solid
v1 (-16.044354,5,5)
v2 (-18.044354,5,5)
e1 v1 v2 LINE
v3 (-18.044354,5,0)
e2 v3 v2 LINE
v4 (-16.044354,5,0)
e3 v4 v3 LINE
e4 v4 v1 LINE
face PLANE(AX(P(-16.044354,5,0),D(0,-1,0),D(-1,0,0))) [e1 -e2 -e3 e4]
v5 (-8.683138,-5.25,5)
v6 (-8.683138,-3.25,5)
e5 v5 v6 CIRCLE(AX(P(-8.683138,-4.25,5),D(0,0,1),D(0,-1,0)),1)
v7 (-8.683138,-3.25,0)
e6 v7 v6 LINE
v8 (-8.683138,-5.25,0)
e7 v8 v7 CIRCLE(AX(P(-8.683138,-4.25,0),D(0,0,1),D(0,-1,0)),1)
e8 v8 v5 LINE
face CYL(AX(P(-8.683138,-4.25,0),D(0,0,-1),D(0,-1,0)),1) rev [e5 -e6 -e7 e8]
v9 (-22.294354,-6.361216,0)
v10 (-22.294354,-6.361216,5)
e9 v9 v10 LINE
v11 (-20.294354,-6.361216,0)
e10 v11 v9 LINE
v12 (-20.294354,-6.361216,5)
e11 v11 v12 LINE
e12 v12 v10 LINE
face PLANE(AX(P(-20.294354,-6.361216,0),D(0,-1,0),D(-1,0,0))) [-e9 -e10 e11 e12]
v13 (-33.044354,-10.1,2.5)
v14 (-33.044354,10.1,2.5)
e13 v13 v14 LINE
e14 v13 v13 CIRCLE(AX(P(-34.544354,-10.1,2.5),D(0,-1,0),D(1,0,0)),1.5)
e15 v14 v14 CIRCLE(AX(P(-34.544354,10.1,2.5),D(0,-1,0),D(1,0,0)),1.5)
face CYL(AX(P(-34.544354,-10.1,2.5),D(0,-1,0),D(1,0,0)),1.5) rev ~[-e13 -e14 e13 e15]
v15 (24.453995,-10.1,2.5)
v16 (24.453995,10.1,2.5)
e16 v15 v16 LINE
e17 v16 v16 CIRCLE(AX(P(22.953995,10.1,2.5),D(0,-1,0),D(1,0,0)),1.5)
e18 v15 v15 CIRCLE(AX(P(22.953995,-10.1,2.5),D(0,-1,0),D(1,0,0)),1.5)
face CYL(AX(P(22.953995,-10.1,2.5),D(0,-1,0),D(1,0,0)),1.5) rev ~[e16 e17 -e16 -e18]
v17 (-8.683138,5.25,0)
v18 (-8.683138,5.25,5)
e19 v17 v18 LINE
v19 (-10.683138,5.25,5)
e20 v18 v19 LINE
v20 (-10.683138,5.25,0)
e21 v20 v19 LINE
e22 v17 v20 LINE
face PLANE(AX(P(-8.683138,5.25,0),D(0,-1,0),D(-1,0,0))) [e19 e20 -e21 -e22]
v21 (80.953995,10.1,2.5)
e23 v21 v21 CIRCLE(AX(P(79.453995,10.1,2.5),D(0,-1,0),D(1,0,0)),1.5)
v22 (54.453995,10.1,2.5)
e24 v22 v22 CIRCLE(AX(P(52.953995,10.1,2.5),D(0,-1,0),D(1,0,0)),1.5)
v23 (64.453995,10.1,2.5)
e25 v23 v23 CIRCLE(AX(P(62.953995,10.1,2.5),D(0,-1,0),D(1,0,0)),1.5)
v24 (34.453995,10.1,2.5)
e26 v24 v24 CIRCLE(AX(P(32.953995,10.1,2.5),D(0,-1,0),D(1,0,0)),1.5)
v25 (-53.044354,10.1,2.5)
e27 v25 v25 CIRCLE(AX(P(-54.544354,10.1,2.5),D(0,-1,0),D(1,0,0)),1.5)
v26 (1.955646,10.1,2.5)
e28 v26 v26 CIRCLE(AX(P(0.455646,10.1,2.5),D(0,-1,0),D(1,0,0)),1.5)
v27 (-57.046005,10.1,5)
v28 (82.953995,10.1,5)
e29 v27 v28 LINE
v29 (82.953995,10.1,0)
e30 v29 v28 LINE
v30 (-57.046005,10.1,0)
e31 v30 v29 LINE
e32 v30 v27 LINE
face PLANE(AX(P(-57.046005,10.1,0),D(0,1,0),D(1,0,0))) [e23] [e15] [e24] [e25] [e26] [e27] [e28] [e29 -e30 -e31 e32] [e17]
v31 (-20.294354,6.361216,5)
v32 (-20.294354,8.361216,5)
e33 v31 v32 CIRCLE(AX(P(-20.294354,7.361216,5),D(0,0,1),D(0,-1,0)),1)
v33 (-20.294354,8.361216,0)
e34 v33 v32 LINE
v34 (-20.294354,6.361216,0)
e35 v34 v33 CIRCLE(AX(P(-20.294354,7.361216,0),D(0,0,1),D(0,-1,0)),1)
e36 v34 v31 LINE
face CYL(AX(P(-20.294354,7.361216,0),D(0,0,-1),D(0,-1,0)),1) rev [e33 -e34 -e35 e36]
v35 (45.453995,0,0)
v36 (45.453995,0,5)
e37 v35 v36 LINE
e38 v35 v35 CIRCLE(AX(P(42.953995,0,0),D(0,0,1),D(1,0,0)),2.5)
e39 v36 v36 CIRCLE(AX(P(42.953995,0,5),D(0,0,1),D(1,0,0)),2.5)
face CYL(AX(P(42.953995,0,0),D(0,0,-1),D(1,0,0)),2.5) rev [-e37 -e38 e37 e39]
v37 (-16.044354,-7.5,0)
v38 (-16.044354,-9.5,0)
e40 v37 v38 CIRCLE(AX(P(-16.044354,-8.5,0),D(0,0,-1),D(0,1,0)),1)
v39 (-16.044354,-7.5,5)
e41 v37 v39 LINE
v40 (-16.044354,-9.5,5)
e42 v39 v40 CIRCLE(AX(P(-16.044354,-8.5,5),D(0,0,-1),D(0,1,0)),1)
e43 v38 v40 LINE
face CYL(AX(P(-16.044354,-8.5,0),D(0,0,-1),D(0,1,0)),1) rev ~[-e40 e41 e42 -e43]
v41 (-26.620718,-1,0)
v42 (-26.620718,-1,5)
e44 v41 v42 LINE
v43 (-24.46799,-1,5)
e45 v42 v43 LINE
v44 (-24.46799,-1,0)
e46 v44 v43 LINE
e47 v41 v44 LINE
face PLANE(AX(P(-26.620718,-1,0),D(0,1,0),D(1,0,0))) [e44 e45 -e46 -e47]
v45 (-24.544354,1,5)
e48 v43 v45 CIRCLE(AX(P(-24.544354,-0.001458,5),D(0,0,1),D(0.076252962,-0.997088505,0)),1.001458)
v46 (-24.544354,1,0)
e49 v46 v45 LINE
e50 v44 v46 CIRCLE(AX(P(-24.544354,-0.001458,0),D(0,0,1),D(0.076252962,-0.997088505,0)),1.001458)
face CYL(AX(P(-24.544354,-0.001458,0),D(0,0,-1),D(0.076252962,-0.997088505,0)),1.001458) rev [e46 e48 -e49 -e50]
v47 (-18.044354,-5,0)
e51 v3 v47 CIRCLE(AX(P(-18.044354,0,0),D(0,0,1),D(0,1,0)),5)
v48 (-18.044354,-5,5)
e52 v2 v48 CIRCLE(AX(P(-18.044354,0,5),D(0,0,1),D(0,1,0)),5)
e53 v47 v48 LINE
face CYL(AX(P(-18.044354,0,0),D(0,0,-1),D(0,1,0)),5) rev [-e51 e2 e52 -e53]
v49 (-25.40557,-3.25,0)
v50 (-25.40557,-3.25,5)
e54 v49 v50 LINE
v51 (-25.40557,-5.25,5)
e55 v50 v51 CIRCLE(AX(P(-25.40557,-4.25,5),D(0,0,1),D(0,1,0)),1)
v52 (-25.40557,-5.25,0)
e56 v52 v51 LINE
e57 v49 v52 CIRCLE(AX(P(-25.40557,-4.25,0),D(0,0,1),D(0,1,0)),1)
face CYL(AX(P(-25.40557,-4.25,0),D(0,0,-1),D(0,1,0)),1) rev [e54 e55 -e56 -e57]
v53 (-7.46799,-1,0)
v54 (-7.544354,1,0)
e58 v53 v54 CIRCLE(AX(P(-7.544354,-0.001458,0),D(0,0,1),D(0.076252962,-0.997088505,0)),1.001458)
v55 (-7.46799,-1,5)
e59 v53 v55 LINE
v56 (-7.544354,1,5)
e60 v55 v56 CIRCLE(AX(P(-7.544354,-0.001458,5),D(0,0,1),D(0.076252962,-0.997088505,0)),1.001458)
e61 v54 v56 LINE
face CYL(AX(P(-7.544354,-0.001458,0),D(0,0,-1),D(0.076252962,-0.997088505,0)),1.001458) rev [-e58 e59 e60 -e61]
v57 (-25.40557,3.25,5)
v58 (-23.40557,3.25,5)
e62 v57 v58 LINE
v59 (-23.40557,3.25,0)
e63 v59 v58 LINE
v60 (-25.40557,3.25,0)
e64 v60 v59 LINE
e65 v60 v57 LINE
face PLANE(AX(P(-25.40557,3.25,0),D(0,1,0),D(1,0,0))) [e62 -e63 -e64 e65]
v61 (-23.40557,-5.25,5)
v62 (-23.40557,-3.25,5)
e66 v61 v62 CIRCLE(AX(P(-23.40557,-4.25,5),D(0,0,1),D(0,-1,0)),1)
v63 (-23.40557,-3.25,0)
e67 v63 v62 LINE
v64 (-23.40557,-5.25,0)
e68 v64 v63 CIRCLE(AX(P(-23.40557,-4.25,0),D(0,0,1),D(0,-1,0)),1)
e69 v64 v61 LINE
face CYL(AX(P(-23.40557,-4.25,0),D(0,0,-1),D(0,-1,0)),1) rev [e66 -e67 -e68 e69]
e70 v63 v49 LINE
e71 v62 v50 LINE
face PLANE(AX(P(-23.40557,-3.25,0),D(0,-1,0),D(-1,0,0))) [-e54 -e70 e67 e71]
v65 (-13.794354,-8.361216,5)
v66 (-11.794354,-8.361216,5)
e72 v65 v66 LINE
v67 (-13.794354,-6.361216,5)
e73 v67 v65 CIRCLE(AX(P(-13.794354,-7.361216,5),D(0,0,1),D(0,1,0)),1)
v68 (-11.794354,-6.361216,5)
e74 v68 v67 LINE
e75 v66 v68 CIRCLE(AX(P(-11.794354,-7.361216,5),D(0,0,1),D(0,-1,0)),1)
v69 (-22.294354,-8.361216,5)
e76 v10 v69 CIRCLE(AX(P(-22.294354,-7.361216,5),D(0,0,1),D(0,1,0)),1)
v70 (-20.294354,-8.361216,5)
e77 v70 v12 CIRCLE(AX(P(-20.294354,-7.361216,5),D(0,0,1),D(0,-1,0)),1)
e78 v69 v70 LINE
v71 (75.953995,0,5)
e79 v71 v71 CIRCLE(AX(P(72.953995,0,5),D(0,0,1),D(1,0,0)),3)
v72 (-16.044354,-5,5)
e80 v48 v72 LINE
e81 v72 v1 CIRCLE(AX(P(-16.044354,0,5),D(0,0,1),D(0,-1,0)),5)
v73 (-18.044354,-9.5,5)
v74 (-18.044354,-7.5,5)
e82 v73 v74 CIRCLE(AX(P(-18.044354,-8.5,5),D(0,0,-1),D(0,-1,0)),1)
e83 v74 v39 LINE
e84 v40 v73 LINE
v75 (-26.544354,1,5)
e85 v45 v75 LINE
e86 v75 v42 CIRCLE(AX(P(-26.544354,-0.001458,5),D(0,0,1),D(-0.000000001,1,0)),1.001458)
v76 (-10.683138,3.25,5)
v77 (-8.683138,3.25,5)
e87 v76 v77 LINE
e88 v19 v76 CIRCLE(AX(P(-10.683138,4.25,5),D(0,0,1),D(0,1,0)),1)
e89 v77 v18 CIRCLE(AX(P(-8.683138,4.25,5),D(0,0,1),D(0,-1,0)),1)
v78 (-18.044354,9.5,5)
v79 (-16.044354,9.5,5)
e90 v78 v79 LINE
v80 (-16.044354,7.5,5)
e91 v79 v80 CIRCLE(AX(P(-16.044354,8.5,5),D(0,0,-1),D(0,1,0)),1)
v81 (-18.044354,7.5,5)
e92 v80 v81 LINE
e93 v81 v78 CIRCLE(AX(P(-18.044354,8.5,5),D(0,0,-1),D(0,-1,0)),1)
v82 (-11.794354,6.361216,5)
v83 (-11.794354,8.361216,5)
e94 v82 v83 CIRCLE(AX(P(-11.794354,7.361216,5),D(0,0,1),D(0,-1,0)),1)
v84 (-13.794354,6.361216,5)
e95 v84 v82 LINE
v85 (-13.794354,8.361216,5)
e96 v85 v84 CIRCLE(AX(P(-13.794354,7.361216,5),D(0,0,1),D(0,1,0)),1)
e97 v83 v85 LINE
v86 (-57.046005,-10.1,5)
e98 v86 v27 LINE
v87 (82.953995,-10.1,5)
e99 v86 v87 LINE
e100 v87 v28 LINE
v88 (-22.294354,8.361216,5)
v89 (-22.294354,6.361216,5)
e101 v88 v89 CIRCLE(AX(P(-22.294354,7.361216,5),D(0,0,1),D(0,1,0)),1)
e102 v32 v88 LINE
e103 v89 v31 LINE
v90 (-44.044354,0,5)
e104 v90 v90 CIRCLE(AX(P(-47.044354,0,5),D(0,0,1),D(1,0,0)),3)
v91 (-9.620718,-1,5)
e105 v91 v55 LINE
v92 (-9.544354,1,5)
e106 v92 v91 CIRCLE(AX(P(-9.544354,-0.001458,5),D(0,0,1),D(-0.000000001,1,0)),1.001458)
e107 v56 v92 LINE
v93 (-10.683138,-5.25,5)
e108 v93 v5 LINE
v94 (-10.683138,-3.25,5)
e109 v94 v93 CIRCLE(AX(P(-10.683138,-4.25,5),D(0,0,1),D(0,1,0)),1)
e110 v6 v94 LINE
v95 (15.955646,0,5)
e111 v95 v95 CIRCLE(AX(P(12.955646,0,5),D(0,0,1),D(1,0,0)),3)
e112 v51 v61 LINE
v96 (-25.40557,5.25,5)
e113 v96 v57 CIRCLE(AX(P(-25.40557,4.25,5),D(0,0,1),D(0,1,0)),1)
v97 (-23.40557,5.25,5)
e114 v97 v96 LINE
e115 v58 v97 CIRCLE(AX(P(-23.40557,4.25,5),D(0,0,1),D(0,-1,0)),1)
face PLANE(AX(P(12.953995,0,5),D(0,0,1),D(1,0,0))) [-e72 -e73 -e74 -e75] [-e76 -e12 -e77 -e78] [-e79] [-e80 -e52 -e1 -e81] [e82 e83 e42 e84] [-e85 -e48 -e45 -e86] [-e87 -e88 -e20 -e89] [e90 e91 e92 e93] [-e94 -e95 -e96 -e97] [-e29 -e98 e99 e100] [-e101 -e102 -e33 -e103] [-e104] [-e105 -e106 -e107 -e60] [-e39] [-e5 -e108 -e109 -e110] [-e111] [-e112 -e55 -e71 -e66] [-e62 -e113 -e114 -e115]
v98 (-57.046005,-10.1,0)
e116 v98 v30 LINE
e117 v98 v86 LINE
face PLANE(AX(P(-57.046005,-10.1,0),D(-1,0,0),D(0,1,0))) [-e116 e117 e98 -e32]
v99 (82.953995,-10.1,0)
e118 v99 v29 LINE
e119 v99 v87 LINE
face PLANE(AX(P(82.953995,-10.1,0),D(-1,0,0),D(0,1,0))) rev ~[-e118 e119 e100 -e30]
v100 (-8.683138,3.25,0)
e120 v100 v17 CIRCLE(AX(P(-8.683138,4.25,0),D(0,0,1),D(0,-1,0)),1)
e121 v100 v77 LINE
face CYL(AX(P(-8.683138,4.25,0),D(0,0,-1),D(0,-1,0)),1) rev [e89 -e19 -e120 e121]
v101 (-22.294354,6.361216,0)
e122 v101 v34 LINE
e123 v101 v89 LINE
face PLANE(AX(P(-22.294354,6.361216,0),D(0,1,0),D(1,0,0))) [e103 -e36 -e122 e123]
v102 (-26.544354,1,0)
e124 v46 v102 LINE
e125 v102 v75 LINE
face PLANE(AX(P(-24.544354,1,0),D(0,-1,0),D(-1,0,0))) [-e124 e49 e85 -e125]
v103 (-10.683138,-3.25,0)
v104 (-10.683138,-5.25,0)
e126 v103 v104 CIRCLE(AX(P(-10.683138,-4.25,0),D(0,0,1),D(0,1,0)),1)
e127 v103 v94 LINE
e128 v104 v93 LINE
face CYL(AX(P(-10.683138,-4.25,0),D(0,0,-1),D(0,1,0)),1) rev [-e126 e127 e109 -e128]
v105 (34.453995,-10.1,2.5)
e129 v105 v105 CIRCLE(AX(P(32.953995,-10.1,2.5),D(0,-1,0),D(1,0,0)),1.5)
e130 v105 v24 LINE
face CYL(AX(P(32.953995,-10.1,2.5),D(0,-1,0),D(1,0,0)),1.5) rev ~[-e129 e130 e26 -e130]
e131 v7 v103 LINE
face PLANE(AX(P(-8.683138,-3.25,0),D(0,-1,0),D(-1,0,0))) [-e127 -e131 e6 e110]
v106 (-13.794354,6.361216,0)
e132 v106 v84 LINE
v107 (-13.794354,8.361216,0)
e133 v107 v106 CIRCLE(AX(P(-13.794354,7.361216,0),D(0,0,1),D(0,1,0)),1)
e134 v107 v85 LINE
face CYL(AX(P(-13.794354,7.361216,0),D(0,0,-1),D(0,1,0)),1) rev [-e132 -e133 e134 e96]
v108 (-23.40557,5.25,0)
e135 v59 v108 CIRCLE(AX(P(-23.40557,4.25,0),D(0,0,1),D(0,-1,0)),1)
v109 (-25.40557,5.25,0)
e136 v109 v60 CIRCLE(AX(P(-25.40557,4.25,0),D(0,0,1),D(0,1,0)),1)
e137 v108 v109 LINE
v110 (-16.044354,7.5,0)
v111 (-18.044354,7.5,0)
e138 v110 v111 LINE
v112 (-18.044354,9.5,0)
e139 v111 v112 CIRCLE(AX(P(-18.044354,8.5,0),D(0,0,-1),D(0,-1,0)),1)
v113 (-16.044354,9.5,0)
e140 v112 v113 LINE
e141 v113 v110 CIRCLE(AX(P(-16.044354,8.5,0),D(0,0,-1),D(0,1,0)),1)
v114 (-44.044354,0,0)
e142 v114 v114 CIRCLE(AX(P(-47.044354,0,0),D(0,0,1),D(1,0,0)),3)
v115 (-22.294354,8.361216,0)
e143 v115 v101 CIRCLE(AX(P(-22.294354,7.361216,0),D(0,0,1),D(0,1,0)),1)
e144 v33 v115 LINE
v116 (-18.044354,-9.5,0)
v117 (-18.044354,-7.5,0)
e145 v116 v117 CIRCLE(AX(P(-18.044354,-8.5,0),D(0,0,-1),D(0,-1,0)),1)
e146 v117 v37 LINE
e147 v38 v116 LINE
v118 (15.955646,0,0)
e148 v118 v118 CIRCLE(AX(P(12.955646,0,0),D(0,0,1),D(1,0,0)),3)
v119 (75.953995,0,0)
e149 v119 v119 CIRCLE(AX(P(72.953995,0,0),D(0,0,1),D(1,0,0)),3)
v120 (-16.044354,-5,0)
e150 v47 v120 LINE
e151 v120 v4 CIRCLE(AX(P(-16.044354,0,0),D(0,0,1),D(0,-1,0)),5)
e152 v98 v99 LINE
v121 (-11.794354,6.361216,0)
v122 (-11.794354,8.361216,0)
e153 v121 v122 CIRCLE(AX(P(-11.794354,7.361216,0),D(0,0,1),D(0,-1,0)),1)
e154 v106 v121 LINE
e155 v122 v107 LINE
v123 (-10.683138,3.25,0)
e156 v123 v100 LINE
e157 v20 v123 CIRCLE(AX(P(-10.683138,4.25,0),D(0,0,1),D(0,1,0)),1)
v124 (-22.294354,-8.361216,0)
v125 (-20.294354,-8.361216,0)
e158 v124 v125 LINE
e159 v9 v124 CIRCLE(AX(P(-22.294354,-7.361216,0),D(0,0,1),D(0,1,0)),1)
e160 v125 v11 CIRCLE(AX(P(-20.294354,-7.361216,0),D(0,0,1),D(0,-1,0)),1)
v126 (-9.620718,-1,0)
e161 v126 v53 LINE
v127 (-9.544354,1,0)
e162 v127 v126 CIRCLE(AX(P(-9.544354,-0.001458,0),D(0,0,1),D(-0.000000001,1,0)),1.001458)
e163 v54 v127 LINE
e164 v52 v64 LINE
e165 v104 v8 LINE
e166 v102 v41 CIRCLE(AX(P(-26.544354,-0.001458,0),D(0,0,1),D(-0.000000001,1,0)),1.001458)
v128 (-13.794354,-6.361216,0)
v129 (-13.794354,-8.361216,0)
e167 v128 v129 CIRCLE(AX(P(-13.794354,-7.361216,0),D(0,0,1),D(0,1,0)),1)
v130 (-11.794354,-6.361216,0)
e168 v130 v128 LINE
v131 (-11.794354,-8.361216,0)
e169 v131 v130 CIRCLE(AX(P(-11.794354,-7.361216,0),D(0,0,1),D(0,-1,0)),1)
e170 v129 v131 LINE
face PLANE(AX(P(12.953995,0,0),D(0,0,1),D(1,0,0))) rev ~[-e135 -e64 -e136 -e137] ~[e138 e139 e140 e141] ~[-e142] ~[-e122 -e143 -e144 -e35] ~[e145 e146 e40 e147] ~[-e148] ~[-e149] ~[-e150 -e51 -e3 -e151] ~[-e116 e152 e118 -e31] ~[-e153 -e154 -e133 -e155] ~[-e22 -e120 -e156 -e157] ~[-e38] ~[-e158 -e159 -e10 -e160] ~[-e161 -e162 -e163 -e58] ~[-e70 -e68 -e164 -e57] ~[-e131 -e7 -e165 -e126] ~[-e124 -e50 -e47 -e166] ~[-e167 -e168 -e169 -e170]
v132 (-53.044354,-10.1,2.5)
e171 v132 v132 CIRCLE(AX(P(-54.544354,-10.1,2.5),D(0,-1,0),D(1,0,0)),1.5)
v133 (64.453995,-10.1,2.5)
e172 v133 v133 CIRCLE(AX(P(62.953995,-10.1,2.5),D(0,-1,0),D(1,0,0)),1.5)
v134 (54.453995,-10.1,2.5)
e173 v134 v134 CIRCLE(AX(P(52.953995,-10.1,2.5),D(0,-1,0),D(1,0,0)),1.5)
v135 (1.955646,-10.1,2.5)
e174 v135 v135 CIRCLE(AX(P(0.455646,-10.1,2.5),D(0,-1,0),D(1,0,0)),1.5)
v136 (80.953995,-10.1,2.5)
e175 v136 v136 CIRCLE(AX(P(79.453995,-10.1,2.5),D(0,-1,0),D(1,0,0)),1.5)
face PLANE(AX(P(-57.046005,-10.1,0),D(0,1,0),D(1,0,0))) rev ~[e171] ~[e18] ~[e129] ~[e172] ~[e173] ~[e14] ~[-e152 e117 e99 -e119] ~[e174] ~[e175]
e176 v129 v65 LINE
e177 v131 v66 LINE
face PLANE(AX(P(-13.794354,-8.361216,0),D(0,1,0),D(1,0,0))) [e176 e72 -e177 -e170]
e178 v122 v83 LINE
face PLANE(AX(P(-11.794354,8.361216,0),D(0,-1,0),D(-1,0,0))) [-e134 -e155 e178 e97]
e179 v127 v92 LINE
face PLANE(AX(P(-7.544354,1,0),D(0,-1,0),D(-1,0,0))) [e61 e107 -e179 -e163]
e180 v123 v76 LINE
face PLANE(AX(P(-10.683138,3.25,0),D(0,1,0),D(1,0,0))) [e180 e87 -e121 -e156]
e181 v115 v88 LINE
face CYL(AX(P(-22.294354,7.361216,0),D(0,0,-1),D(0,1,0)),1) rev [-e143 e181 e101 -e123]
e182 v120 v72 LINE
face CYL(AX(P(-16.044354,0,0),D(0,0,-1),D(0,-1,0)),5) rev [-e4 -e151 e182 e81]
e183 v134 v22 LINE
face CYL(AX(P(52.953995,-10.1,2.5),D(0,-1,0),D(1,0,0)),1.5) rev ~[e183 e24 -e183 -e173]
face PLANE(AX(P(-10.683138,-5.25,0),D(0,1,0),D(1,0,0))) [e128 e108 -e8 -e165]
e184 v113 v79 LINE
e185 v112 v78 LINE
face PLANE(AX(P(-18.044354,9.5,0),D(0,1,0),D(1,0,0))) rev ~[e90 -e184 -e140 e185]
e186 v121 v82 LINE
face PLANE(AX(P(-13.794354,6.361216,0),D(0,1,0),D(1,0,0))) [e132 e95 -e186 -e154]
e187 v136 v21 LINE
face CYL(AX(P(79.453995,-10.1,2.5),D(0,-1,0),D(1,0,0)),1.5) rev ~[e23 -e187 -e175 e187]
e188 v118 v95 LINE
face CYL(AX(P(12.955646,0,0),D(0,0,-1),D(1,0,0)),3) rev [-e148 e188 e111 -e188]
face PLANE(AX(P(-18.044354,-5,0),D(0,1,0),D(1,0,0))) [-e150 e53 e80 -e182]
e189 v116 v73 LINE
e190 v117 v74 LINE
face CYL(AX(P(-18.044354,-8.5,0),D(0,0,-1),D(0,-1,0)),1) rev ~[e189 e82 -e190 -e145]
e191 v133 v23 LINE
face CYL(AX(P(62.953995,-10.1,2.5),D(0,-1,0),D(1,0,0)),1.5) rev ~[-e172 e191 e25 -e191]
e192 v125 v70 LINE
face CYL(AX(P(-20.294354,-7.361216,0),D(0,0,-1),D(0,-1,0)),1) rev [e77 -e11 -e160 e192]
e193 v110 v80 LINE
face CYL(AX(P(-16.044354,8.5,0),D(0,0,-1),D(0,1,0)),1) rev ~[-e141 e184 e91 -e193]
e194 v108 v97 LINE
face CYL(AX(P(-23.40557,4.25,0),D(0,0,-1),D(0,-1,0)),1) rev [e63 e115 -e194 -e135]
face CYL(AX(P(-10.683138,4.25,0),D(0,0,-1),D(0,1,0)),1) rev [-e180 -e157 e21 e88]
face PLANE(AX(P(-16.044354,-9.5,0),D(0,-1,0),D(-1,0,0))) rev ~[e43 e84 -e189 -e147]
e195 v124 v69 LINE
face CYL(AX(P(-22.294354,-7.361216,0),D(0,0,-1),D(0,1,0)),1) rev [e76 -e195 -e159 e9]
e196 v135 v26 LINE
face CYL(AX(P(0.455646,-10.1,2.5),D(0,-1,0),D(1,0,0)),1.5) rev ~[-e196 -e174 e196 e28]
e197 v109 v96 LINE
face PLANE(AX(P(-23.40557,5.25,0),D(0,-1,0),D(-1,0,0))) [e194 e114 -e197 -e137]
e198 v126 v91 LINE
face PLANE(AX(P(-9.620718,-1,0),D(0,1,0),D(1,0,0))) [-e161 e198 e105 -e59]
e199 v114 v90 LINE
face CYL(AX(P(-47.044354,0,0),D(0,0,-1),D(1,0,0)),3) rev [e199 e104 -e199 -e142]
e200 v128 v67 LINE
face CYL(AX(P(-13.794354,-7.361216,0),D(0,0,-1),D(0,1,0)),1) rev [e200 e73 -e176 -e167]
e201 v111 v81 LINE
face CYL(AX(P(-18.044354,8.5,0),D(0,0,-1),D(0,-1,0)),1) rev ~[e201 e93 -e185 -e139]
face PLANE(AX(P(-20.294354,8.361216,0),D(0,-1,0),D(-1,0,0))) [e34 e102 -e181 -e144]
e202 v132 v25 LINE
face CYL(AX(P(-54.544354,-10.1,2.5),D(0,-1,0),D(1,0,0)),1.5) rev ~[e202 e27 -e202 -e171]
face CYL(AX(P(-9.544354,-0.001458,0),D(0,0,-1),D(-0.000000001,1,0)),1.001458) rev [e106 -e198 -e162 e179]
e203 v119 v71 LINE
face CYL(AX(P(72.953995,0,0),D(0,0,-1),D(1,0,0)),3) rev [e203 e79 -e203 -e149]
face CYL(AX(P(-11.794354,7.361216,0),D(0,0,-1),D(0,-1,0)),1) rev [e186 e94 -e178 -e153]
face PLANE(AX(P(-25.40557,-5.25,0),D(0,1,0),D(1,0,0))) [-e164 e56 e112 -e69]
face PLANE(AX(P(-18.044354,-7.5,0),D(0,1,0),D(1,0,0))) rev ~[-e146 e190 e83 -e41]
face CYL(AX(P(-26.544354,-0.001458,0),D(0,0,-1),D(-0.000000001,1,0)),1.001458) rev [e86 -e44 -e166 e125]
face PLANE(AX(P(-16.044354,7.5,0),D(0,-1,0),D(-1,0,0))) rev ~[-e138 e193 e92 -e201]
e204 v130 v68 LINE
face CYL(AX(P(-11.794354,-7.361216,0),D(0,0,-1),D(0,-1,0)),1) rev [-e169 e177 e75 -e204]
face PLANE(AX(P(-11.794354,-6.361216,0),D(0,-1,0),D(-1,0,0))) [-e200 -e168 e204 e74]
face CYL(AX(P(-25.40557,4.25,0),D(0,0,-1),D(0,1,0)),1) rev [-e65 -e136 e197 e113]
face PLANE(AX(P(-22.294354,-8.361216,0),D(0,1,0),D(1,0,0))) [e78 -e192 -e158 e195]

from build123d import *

# Parameters (mm, degrees)
SKETCH_1_W          = 140
SKETCH_1_H          = 20.2
SKETCH_1_R          = 3
SKETCH_1_R_2        = 2.5
EXTRUDE_1_DEPTH     = 5
CUT_EXTRUDE_1_DEPTH = 41


with BuildPart() as part:
    # 스케치1 → 돌출1 (new body)
    with BuildSketch(Plane.XY):
        with Locations((12.953994506, 0)):
            Rectangle(SKETCH_1_W, SKETCH_1_H)
        with Locations((-47.044353904, 0)):
            Circle(SKETCH_1_R, mode=Mode.SUBTRACT)
        with Locations((12.955646096, 0)):
            Circle(SKETCH_1_R, mode=Mode.SUBTRACT)
        with Locations((42.953994506, 0)):
            Circle(SKETCH_1_R_2, mode=Mode.SUBTRACT)
        with Locations((72.953994506, 0)):
            Circle(SKETCH_1_R, mode=Mode.SUBTRACT)
        with BuildLine():
            Line((-16.044353904, 5), (-18.044353904, 5))
            ThreePointArc((-18.044353904, 5), (-23.044353904, 0), (-18.044353904, -5))
            Line((-18.044353904, -5), (-16.044353904, -5))
            ThreePointArc((-16.044353904, -5), (-11.044353904, 0), (-16.044353904, 5))
        make_face(mode=Mode.SUBTRACT)
        with BuildLine():
            Line((-16.044353904, 7.5), (-18.044353904, 7.5))
            ThreePointArc((-18.044353904, 7.5), (-19.044353904, 8.5), (-18.044353904, 9.5))
            Line((-18.044353904, 9.5), (-16.044353904, 9.5))
            ThreePointArc((-16.044353904, 9.5), (-15.044353904, 8.5), (-16.044353904, 7.5))
        make_face(mode=Mode.SUBTRACT)
        with BuildLine():
            Line((-10.683137972, -5.25), (-8.683137972, -5.25))
            ThreePointArc((-8.683137972, -5.25), (-7.683137972, -4.25), (-8.683137972, -3.25))
            Line((-8.683137972, -3.25), (-10.683137972, -3.25))
            ThreePointArc((-10.683137972, -3.25), (-11.683137972, -4.25), (-10.683137972, -5.25))
        make_face(mode=Mode.SUBTRACT)
        with BuildLine():
            Line((-9.620718033, -1), (-7.467989775, -1))
            ThreePointArc((-7.467989775, -1), (-6.543625234, 0.036752017), (-7.544353904, 1))
            Line((-7.544353904, 1), (-9.544353904, 1))
            ThreePointArc((-9.544353904, 1), (-10.545082573, 0.036752017), (-9.620718033, -1))
        make_face(mode=Mode.SUBTRACT)
        with BuildLine():
            Line((-20.294353904, 8.361215932), (-22.294353904, 8.361215932))
            ThreePointArc((-22.294353904, 8.361215932), (-23.294353904, 7.361215932), (-22.294353904, 6.361215932))
            Line((-22.294353904, 6.361215932), (-20.294353904, 6.361215932))
            ThreePointArc((-20.294353904, 6.361215932), (-19.294353904, 7.361215932), (-20.294353904, 8.361215932))
        make_face(mode=Mode.SUBTRACT)
        with BuildLine():
            Line((-23.405569836, 5.25), (-25.405569836, 5.25))
            ThreePointArc((-25.405569836, 5.25), (-26.405569836, 4.25), (-25.405569836, 3.25))
            Line((-25.405569836, 3.25), (-23.405569836, 3.25))
            ThreePointArc((-23.405569836, 3.25), (-22.405569836, 4.25), (-23.405569836, 5.25))
        make_face(mode=Mode.SUBTRACT)
        with BuildLine():
            Line((-24.544353904, 1), (-26.544353904, 1))
            ThreePointArc((-26.544353904, 1), (-27.545082573, 0.036752017), (-26.620718033, -1))
            Line((-26.620718033, -1), (-24.467989775, -1))
            ThreePointArc((-24.467989775, -1), (-23.543625234, 0.036752017), (-24.544353904, 1))
        make_face(mode=Mode.SUBTRACT)
        with BuildLine():
            Line((-10.683137972, 3.25), (-8.683137972, 3.25))
            ThreePointArc((-8.683137972, 3.25), (-7.683137972, 4.25), (-8.683137972, 5.25))
            Line((-8.683137972, 5.25), (-10.683137972, 5.25))
            ThreePointArc((-10.683137972, 5.25), (-11.683137972, 4.25), (-10.683137972, 3.25))
        make_face(mode=Mode.SUBTRACT)
        with BuildLine():
            Line((-13.794353904, 6.361215932), (-11.794353904, 6.361215932))
            ThreePointArc((-11.794353904, 6.361215932), (-10.794353904, 7.361215932), (-11.794353904, 8.361215932))
            Line((-11.794353904, 8.361215932), (-13.794353904, 8.361215932))
            ThreePointArc((-13.794353904, 8.361215932), (-14.794353904, 7.361215932), (-13.794353904, 6.361215932))
        make_face(mode=Mode.SUBTRACT)
        with BuildLine():
            Line((-23.405569836, -3.25), (-25.405569836, -3.25))
            ThreePointArc((-25.405569836, -3.25), (-26.405569836, -4.25), (-25.405569836, -5.25))
            Line((-25.405569836, -5.25), (-23.405569836, -5.25))
            ThreePointArc((-23.405569836, -5.25), (-22.405569836, -4.25), (-23.405569836, -3.25))
        make_face(mode=Mode.SUBTRACT)
        with BuildLine():
            Line((-13.794353904, -8.361215932), (-11.794353904, -8.361215932))
            ThreePointArc((-11.794353904, -8.361215932), (-10.794353904, -7.361215932), (-11.794353904, -6.361215932))
            Line((-11.794353904, -6.361215932), (-13.794353904, -6.361215932))
            ThreePointArc((-13.794353904, -6.361215932), (-14.794353904, -7.361215932), (-13.794353904, -8.361215932))
        make_face(mode=Mode.SUBTRACT)
        with BuildLine():
            Line((-20.294353904, -6.361215932), (-22.294353904, -6.361215932))
            ThreePointArc((-22.294353904, -6.361215932), (-23.294353904, -7.361215932), (-22.294353904, -8.361215932))
            Line((-22.294353904, -8.361215932), (-20.294353904, -8.361215932))
            ThreePointArc((-20.294353904, -8.361215932), (-19.294353904, -7.361215932), (-20.294353904, -6.361215932))
        make_face(mode=Mode.SUBTRACT)
        with BuildLine():
            Line((-16.044353904, -9.5), (-18.044353904, -9.5))
            ThreePointArc((-18.044353904, -9.5), (-19.044353904, -8.5), (-18.044353904, -7.5))
            Line((-18.044353904, -7.5), (-16.044353904, -7.5))
            ThreePointArc((-16.044353904, -7.5), (-15.044353904, -8.5), (-16.044353904, -9.5))
        make_face(mode=Mode.SUBTRACT)
    extrude(amount=EXTRUDE_1_DEPTH)

    # 스케치8 → 컷-돌출1 (cut)
    with BuildSketch(Plane.XZ.offset(10.1)):
        with BuildLine():
            ThreePointArc((77.953994506, 2.5), (79.453994506, 1), (80.953994506, 2.5))
            Line((80.953994506, 2.5), (77.953994506, 2.5))
        make_face()
        with BuildLine():
            Line((77.953994506, 2.5), (80.953994506, 2.5))
            ThreePointArc((80.953994506, 2.5), (79.453994506, 4), (77.953994506, 2.5))
        make_face()
        with BuildLine():
            ThreePointArc((61.453994506, 2.5), (62.953994506, 1), (64.453994506, 2.5))
            Line((64.453994506, 2.5), (61.453994506, 2.5))
        make_face()
        with BuildLine():
            Line((61.453994506, 2.5), (64.453994506, 2.5))
            ThreePointArc((64.453994506, 2.5), (62.953994506, 4), (61.453994506, 2.5))
        make_face()
        with BuildLine():
            ThreePointArc((51.453994506, 2.5), (52.953994506, 1), (54.453994506, 2.5))
            Line((54.453994506, 2.5), (51.453994506, 2.5))
        make_face()
        with BuildLine():
            Line((51.453994506, 2.5), (54.453994506, 2.5))
            ThreePointArc((54.453994506, 2.5), (52.953994506, 4), (51.453994506, 2.5))
        make_face()
        with BuildLine():
            ThreePointArc((31.453994506, 2.5), (32.953994506, 1), (34.453994506, 2.5))
            Line((34.453994506, 2.5), (31.453994506, 2.5))
        make_face()
        with BuildLine():
            Line((31.453994506, 2.5), (34.453994506, 2.5))
            ThreePointArc((34.453994506, 2.5), (32.953994506, 4), (31.453994506, 2.5))
        make_face()
        with BuildLine():
            ThreePointArc((21.453994506, 2.5), (22.953994506, 1), (24.453994506, 2.5))
            Line((24.453994506, 2.5), (21.453994506, 2.5))
        make_face()
        with BuildLine():
            Line((21.453994506, 2.5), (24.453994506, 2.5))
            ThreePointArc((24.453994506, 2.5), (22.953994506, 4), (21.453994506, 2.5))
        make_face()
        with BuildLine():
            ThreePointArc((-1.044353904, 2.5), (0.455646096, 1), (1.955646096, 2.5))
            Line((1.955646096, 2.5), (-1.044353904, 2.5))
        make_face()
        with BuildLine():
            Line((-1.044353904, 2.5), (1.955646096, 2.5))
            ThreePointArc((1.955646096, 2.5), (0.455646096, 4), (-1.044353904, 2.5))
        make_face()
        with BuildLine():
            ThreePointArc((-36.044353904, 2.5), (-34.544353904, 1), (-33.044353904, 2.5))
            Line((-33.044353904, 2.5), (-36.044353904, 2.5))
        make_face()
        with BuildLine():
            Line((-36.044353904, 2.5), (-33.044353904, 2.5))
            ThreePointArc((-33.044353904, 2.5), (-34.544353904, 4), (-36.044353904, 2.5))
        make_face()
        with BuildLine():
            ThreePointArc((-56.044353904, 2.5), (-54.544353904, 1), (-53.044353904, 2.5))
            Line((-53.044353904, 2.5), (-56.044353904, 2.5))
        make_face()
        with BuildLine():
            Line((-56.044353904, 2.5), (-53.044353904, 2.5))
            ThreePointArc((-53.044353904, 2.5), (-54.544353904, 4), (-56.044353904, 2.5))
        make_face()
    extrude(amount=-CUT_EXTRUDE_1_DEPTH, mode=Mode.SUBTRACT)


solid = part.part
